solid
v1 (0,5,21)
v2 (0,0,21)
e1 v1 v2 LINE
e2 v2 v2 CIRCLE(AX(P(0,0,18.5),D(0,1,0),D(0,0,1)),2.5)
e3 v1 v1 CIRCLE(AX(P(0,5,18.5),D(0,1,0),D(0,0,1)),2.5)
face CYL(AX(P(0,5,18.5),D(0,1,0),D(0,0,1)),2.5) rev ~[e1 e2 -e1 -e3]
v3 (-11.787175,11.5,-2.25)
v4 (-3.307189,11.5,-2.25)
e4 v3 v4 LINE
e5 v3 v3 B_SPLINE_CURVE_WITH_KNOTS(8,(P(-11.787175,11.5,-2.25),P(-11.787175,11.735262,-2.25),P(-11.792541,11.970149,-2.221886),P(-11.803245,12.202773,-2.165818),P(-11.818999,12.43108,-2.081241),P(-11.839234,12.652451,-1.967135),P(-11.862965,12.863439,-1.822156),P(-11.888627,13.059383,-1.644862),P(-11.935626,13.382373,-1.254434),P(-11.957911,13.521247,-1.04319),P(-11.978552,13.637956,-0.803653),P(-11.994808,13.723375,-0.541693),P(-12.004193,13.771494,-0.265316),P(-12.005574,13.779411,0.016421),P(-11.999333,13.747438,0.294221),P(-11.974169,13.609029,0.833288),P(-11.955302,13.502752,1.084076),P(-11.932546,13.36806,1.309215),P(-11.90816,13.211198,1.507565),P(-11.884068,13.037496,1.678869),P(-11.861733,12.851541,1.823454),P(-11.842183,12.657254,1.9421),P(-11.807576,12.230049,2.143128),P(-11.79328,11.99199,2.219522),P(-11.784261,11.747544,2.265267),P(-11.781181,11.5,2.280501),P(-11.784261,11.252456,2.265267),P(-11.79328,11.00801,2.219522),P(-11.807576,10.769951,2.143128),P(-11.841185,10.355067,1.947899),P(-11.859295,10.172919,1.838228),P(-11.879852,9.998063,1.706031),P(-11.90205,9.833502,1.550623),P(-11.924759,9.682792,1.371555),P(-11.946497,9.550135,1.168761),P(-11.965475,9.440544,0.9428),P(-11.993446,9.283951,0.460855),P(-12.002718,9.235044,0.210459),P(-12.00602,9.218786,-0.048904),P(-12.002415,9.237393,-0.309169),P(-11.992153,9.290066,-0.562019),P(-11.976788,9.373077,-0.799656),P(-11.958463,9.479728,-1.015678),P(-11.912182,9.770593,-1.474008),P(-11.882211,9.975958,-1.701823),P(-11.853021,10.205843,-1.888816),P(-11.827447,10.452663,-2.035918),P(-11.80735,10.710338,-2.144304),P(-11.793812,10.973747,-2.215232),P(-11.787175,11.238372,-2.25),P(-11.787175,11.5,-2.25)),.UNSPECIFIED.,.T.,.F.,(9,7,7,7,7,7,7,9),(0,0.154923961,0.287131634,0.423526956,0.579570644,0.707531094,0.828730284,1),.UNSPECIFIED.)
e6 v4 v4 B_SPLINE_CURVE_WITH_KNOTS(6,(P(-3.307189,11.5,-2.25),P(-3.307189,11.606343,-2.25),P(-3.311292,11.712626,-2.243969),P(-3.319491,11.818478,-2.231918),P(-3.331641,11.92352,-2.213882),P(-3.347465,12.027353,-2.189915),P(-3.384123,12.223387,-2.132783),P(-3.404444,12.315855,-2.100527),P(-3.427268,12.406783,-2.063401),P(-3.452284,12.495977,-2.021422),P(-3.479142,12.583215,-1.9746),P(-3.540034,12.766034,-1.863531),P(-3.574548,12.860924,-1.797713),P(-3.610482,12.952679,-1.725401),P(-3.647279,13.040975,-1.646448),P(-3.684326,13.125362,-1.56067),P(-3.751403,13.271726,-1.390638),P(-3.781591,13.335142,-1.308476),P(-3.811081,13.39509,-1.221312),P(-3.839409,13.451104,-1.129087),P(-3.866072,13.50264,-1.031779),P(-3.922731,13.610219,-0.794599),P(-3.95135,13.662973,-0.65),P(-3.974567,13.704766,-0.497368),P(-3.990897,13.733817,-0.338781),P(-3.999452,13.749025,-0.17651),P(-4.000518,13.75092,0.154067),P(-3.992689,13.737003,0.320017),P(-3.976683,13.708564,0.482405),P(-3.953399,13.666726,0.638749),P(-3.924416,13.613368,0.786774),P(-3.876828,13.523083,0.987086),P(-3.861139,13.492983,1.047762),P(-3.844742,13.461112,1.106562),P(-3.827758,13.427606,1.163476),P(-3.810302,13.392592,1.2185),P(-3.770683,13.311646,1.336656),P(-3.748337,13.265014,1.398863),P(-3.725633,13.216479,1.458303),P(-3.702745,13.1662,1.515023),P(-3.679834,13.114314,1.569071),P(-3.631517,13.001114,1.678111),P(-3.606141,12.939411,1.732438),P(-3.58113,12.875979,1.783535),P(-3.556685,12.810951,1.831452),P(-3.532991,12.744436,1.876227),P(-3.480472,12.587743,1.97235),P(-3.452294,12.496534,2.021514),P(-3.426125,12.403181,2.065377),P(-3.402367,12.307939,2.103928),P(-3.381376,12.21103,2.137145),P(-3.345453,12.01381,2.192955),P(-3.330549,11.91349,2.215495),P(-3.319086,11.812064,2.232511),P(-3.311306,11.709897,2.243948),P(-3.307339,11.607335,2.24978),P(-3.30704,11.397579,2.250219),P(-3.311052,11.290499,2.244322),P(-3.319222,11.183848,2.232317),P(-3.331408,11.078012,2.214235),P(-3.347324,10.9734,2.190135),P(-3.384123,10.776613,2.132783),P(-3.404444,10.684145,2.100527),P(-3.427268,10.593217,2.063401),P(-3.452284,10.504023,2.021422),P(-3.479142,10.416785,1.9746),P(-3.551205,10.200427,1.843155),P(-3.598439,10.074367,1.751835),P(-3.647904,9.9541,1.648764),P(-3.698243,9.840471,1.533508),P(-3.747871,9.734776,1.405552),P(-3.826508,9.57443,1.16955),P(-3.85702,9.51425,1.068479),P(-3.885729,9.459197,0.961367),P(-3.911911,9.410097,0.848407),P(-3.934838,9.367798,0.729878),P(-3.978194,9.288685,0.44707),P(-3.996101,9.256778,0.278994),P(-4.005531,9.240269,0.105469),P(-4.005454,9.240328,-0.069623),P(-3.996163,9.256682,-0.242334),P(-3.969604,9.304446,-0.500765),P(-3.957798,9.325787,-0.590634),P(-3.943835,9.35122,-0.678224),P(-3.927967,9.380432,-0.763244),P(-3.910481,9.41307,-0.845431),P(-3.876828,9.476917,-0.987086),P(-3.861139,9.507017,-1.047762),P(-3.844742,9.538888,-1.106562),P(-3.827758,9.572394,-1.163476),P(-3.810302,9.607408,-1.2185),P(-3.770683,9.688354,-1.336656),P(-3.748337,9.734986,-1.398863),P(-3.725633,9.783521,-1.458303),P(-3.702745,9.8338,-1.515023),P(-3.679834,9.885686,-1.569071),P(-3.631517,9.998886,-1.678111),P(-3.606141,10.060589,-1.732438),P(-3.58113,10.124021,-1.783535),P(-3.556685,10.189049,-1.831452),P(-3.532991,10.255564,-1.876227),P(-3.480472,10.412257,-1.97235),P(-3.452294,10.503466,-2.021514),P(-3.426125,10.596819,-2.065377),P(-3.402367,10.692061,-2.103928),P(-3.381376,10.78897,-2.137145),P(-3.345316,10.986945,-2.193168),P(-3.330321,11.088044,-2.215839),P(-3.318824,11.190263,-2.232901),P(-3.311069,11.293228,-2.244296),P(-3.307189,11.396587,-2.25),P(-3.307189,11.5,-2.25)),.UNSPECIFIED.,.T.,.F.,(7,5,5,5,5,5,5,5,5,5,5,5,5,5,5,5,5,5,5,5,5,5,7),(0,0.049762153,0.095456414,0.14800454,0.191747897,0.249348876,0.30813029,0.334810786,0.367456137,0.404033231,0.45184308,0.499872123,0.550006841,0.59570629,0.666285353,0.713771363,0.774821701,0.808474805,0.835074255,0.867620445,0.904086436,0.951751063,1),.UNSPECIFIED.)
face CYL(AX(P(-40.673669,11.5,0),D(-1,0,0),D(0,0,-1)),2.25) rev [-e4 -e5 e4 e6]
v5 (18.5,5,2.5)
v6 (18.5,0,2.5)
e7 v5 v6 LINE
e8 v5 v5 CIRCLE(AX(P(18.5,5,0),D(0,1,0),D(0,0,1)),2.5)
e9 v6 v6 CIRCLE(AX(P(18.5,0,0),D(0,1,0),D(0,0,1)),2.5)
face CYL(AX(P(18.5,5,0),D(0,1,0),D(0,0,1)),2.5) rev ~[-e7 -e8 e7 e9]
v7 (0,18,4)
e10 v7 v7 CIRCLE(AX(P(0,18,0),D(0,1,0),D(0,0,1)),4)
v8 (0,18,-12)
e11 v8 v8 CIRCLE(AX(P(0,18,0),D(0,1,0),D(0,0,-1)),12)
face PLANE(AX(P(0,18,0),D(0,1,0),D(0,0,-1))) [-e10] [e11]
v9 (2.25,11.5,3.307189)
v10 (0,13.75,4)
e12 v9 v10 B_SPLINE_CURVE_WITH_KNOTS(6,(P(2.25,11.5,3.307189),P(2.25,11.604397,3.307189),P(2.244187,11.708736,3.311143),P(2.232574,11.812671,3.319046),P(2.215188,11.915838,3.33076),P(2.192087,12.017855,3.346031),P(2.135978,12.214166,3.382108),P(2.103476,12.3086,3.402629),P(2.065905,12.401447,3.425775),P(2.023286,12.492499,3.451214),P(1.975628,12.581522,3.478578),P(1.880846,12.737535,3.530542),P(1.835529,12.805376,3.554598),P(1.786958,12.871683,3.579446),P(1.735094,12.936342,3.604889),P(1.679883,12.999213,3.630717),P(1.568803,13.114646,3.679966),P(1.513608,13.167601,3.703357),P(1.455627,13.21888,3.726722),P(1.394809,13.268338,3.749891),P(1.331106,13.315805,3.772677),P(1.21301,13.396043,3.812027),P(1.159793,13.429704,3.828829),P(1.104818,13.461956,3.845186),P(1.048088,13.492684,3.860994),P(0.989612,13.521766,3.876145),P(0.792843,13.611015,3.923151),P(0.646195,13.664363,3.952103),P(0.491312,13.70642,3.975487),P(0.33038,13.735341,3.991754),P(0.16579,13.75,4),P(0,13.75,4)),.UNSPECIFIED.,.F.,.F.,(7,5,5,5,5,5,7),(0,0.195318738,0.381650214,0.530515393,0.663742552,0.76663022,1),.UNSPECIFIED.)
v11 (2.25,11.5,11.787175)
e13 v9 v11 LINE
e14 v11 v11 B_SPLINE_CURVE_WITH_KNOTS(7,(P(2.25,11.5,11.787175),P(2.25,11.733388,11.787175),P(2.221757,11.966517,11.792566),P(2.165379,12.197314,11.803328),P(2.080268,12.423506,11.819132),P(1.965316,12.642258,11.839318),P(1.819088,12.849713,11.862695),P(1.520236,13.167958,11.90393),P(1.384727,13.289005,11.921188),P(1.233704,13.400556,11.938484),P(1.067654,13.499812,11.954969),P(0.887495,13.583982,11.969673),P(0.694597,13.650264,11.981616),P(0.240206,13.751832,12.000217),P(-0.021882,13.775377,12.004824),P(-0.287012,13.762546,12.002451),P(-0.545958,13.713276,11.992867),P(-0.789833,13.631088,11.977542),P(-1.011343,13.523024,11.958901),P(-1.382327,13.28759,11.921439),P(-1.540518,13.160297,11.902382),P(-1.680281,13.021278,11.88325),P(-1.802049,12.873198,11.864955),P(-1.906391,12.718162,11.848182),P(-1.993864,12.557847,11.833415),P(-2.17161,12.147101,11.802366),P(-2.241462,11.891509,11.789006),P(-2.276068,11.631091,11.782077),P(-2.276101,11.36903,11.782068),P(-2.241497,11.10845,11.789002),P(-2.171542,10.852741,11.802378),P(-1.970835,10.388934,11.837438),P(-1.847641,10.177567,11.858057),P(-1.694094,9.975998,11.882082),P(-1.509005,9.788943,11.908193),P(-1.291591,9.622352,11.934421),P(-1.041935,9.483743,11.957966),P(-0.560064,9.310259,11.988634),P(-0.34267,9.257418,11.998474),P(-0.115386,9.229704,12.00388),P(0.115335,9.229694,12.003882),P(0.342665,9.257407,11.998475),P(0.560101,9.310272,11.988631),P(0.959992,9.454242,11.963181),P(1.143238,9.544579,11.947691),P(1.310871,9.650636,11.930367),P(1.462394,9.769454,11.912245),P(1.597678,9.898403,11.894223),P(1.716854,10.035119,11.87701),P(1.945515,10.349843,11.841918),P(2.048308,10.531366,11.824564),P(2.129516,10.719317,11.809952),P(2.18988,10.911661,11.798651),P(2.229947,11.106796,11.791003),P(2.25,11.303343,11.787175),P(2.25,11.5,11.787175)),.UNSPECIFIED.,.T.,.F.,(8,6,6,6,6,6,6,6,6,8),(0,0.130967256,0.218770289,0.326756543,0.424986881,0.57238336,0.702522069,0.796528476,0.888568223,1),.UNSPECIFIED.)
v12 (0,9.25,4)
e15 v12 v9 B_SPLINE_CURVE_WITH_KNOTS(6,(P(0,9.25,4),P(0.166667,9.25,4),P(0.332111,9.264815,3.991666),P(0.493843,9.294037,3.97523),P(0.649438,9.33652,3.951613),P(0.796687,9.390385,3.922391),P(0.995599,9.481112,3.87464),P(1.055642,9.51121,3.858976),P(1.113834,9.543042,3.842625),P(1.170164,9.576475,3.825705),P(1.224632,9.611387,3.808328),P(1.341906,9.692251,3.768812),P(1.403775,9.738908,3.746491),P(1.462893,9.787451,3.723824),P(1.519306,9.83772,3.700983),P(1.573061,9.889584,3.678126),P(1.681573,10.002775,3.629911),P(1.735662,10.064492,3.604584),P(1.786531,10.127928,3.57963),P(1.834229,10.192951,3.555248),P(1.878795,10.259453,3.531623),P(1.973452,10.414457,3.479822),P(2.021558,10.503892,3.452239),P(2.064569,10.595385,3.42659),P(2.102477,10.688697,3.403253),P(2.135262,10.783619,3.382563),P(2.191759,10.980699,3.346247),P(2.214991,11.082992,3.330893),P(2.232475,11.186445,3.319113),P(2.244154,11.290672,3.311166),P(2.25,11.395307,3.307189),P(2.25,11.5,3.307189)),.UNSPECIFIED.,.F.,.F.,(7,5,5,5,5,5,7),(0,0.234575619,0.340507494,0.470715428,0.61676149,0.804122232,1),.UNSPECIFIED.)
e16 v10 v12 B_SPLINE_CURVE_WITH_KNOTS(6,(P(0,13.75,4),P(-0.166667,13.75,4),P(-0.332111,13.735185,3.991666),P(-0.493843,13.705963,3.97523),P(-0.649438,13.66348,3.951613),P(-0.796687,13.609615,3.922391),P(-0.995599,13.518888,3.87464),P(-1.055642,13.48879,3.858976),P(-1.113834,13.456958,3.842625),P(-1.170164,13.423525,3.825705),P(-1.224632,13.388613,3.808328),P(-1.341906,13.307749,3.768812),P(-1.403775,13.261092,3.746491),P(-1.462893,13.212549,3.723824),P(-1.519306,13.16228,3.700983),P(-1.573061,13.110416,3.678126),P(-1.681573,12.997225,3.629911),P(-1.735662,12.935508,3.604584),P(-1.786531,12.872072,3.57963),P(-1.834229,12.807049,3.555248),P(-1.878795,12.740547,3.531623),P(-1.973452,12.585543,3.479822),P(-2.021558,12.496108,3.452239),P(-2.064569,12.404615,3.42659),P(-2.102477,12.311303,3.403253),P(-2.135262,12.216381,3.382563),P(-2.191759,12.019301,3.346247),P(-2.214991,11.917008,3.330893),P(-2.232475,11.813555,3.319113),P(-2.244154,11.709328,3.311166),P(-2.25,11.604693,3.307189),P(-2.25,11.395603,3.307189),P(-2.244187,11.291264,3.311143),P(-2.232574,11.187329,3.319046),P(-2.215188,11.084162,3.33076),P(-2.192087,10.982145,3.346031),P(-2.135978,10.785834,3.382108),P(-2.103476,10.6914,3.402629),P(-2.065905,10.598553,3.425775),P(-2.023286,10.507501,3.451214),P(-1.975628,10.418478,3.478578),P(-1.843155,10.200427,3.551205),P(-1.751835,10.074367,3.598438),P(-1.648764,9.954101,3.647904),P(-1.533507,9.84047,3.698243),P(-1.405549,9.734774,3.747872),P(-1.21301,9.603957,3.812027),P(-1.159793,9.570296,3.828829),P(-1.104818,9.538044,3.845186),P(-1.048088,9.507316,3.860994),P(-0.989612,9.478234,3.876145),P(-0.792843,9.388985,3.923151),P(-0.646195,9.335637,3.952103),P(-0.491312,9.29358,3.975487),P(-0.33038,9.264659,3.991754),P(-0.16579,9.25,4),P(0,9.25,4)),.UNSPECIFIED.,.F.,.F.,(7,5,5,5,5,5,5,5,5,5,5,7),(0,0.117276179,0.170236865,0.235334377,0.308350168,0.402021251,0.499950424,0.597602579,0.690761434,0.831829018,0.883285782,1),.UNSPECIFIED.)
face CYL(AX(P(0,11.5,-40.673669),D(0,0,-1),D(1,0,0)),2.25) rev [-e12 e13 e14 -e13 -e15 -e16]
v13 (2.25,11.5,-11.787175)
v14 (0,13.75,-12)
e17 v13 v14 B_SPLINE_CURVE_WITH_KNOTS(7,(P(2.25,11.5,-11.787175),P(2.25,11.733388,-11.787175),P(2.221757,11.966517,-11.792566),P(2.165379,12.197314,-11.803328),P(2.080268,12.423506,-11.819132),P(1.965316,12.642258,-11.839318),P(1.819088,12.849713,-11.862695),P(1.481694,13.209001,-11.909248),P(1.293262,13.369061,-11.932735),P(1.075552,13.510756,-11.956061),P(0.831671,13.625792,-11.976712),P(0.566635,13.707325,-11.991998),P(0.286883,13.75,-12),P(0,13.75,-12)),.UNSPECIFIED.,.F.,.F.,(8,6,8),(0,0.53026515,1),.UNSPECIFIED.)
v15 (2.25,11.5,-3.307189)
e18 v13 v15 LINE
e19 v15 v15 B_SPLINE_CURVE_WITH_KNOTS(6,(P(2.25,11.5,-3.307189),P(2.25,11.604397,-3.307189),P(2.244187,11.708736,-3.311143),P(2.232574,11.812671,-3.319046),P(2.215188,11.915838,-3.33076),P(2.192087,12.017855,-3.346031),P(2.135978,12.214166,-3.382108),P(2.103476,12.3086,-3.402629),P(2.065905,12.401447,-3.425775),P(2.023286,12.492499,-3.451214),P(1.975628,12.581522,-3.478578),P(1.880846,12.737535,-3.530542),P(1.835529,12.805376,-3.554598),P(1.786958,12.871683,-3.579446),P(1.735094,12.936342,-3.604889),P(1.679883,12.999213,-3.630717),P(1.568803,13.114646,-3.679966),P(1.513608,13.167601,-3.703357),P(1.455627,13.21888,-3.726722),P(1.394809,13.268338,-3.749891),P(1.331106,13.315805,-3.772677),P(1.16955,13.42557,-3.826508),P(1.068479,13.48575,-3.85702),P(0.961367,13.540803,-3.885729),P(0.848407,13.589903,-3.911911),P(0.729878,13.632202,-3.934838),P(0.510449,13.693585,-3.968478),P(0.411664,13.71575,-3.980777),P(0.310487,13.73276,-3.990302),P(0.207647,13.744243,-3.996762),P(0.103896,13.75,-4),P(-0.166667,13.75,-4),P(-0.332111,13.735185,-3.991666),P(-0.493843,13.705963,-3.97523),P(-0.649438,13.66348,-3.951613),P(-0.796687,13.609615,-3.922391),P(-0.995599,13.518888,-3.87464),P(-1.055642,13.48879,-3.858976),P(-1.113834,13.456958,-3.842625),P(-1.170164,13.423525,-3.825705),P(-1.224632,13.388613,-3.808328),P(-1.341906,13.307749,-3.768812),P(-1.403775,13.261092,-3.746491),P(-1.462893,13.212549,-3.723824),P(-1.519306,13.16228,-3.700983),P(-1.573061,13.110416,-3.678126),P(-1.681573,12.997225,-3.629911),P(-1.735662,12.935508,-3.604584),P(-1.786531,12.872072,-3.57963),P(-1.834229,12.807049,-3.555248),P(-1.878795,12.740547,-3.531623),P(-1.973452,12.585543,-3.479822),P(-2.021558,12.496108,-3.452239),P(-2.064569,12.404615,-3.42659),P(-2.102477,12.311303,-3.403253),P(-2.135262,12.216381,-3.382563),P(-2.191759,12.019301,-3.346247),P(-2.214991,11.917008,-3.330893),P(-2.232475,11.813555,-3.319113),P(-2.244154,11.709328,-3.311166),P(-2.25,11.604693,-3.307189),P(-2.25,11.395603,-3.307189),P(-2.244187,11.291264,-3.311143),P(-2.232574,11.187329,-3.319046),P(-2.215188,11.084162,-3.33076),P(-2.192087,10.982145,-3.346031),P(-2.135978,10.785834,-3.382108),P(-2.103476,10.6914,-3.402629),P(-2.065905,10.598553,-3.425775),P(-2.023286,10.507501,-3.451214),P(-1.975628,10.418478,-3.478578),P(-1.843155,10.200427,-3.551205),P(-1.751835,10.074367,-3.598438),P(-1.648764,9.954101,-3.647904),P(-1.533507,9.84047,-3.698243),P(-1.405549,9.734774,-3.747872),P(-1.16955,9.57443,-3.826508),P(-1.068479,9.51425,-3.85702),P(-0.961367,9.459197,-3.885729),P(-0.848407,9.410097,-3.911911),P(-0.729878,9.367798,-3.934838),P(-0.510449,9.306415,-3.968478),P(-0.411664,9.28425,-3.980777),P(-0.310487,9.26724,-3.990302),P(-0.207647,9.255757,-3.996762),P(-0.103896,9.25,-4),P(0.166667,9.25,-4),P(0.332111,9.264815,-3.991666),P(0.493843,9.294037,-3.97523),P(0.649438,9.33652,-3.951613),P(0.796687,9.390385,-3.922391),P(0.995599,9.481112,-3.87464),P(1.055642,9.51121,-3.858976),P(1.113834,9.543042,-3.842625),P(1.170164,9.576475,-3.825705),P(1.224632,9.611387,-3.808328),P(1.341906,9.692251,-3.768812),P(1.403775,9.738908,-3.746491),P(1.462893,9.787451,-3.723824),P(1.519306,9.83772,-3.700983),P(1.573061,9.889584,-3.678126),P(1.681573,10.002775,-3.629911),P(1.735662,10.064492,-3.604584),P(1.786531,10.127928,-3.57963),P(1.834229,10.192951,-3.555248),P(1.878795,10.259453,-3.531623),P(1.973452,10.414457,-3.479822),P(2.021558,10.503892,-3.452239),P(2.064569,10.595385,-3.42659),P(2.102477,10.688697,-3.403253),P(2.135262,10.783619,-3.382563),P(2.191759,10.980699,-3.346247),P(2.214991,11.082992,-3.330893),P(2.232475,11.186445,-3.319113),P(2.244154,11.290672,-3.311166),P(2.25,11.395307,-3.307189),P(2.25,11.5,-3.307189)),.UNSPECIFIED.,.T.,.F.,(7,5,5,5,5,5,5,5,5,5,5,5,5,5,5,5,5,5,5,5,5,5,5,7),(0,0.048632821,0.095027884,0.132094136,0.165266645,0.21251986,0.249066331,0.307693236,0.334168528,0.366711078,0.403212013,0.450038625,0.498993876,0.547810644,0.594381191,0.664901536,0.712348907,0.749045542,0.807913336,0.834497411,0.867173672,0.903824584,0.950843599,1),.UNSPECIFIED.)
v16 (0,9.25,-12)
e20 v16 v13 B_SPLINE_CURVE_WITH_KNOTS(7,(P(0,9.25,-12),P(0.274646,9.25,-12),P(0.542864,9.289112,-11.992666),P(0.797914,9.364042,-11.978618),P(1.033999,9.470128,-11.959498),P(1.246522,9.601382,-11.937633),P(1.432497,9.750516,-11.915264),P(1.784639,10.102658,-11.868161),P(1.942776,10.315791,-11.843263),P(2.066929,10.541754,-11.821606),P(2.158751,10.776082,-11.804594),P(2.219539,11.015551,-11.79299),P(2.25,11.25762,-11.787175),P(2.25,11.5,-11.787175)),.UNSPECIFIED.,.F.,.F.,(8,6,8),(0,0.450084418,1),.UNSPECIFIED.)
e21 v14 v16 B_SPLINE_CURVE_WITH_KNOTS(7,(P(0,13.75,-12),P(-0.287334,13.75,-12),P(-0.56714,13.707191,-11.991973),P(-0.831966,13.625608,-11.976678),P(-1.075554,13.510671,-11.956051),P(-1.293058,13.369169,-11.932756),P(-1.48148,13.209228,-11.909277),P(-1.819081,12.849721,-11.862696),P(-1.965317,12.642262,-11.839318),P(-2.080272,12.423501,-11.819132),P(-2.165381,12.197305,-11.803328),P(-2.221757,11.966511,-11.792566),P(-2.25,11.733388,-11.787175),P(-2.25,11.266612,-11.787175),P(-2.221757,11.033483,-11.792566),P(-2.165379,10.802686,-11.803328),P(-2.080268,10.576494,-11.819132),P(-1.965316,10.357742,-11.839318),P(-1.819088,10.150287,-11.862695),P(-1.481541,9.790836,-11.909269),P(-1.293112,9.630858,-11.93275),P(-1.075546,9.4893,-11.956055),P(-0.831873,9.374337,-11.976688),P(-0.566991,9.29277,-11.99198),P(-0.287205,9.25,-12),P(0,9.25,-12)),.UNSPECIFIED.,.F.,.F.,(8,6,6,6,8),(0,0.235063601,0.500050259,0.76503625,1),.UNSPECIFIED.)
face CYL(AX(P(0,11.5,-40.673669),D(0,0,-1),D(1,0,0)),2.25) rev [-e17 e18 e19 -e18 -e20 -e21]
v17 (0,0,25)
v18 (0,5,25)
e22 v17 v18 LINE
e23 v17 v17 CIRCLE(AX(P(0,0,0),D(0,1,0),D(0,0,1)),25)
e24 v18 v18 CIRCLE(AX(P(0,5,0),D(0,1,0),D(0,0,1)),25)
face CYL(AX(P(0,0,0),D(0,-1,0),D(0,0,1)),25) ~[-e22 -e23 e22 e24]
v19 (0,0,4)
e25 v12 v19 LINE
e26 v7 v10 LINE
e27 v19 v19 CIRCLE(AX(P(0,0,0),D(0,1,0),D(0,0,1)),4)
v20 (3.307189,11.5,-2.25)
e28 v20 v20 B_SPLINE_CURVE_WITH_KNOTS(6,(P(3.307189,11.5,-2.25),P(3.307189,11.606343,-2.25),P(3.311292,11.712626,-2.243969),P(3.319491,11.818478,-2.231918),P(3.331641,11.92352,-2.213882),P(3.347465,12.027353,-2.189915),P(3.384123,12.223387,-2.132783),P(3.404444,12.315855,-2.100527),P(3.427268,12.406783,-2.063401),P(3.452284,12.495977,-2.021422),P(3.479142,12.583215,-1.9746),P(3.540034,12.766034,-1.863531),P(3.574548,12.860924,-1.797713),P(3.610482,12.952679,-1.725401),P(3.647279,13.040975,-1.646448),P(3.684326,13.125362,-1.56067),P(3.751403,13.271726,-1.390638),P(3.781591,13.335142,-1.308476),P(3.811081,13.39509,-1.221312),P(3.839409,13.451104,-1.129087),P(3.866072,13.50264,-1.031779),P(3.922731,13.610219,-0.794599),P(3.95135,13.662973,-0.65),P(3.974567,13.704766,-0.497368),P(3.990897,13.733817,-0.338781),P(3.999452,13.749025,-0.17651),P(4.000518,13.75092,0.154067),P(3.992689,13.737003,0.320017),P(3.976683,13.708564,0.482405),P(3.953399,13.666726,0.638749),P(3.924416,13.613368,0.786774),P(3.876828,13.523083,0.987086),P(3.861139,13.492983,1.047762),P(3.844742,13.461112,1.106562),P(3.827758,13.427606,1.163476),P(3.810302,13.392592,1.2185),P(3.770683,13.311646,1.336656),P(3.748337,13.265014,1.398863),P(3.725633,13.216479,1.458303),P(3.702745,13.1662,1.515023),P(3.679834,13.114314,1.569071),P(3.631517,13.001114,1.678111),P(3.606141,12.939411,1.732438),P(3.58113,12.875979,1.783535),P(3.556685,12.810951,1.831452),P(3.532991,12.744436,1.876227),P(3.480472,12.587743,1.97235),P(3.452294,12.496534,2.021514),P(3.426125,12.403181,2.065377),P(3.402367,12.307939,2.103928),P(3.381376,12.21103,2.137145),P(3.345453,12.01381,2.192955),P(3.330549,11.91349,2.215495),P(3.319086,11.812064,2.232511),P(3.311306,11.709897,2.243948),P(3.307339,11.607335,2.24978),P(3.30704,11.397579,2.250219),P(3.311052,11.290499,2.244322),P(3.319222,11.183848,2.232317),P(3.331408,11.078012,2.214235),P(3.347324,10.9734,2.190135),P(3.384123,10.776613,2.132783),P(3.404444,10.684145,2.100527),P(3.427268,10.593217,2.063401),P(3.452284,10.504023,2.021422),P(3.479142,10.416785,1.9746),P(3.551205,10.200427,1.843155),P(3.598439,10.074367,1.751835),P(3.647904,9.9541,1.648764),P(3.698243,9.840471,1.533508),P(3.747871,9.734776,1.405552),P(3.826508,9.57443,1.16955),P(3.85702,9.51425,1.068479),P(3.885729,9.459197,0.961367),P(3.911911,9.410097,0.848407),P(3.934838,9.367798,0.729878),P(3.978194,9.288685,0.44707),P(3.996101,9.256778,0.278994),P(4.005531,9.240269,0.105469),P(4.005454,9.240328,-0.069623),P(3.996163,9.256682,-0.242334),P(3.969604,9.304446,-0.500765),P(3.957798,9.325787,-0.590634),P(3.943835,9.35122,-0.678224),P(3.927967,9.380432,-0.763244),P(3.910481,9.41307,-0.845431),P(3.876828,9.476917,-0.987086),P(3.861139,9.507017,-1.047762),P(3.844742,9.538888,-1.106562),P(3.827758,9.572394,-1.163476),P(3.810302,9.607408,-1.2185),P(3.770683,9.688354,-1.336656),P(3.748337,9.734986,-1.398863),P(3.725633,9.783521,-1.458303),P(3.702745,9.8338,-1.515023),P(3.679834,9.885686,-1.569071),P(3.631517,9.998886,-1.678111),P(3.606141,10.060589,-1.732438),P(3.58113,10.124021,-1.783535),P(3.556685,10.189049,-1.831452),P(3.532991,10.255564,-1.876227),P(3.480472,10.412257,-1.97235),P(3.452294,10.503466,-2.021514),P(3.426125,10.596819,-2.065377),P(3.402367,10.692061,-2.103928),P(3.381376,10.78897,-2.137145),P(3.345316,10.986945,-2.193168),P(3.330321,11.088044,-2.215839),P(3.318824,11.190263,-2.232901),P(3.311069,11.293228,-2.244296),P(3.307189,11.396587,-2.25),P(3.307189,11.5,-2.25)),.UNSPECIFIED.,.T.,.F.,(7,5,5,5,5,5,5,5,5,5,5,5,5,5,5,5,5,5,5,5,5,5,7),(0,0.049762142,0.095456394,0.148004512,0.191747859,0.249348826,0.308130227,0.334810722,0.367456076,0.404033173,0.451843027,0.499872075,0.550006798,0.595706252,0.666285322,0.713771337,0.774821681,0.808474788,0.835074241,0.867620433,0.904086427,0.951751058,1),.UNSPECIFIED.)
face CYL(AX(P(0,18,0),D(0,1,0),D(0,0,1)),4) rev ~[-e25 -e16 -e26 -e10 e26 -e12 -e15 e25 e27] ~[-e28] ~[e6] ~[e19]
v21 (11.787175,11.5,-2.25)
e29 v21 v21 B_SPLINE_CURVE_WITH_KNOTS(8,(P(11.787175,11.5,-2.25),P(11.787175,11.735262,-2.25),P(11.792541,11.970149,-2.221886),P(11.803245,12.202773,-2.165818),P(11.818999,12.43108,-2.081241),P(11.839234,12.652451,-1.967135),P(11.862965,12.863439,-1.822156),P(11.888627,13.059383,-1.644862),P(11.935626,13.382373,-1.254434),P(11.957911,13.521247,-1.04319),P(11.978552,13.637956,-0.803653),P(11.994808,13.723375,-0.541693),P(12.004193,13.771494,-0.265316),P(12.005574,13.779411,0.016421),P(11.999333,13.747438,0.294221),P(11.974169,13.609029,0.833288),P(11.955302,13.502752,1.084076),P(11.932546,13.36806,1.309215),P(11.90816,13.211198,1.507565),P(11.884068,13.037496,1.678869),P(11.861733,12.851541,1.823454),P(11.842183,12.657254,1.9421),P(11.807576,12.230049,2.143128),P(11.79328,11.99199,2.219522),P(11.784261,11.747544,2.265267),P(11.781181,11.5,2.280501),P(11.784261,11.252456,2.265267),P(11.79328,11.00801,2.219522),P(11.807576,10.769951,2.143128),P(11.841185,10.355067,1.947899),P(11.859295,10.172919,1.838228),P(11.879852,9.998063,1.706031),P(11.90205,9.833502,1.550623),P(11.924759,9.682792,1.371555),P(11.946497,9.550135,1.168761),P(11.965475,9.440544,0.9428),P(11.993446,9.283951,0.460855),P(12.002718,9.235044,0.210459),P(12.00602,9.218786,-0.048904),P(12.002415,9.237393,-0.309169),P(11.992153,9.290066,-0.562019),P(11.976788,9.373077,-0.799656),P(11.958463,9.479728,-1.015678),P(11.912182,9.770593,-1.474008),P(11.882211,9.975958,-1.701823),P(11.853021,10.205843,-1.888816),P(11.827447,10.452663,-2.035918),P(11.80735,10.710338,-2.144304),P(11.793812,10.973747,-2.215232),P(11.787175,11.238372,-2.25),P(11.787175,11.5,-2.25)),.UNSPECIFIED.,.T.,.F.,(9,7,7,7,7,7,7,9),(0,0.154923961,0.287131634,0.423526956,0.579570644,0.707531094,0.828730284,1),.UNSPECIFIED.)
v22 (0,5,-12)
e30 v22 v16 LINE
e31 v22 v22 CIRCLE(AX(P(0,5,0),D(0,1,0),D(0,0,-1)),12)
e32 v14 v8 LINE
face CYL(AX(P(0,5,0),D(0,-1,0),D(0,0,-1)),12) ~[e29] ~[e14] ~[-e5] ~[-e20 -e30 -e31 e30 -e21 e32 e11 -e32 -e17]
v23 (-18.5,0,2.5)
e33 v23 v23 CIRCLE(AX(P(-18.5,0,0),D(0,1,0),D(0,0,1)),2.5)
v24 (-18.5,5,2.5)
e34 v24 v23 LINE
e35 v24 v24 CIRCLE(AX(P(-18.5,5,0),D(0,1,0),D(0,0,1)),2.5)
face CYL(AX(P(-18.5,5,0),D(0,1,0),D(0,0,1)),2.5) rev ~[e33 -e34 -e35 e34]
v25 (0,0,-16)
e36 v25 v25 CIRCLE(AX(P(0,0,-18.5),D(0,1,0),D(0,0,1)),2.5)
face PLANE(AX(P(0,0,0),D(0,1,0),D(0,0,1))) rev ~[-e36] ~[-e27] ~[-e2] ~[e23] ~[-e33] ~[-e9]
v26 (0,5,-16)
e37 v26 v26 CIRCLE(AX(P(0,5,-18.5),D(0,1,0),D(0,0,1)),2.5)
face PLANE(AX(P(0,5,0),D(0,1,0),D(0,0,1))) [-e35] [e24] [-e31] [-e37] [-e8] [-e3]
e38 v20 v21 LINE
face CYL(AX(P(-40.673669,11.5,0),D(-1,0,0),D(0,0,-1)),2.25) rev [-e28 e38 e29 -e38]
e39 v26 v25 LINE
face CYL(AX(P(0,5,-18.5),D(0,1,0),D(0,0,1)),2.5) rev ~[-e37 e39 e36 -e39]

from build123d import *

# Parameters (mm, degrees)
SKETCH_1_R               = 25
EXTRUDE_1_DEPTH          = 5
SKETCH_2_R               = 12
EXTRUDE_2_DEPTH          = 13
SKETCH_3_R               = 4
CUT_EXTRUDE_1_DEPTH      = 40.67366885
SKETCH_4_R               = 2.5
CUT_EXTRUDE_2_DEPTH      = 38.669616404
CUT_EXTRUDE_3_DEPTH      = 40.67366885
CUT_EXTRUDE_3_DEPTH_BACK = 40.67366885
SKETCH_5_R               = 2.25
CUT_EXTRUDE_4_DEPTH      = 40.673668895
CUT_EXTRUDE_4_DEPTH_BACK = 40.673668895
SKETCH_6_R               = 2.25


with BuildPart() as part:
    # 草图1 → 凸台-拉伸1 (new body)
    with BuildSketch(Plane(origin=(0, 0, 0), x_dir=(1, 0, 0), z_dir=(0, 1, 0))):
        with Locations(Location((0, 0, 0), (0, 0, 270))):
            Circle(SKETCH_1_R)
    extrude(amount=EXTRUDE_1_DEPTH)

    # 草图2 → 凸台-拉伸2 (add)
    with BuildSketch(Plane(origin=(0, 5, 0), x_dir=(1, 0, 0), z_dir=(0, 1, 0))):
        with Locations(Location((0, 0, 0), (0, 0, 90))):
            Circle(SKETCH_2_R)
    extrude(amount=EXTRUDE_2_DEPTH)

    # 草图3 → 切除-拉伸1 (cut, through all)
    with BuildSketch(Plane(origin=(0, 18, 0), x_dir=(1, 0, 0), z_dir=(0, 1, 0))):
        with Locations(Location((0, 0, 0), (0, 0, 270))):
            Circle(SKETCH_3_R)
    extrude(amount=-CUT_EXTRUDE_1_DEPTH, mode=Mode.SUBTRACT)

    # 草图4 → 切除-拉伸2 (cut, through all)
    with BuildSketch(Plane(origin=(0, 5, 0), x_dir=(1, 0, 0), z_dir=(0, 1, 0))):
        with Locations(Location((0, 18.5, 0), (0, 0, 270))):
            Circle(SKETCH_4_R)
        with Locations(Location((18.5, 0, 0), (0, 0, 270))):
            Circle(SKETCH_4_R)
        with Locations(Location((0, -18.5, 0), (0, 0, 270))):
            Circle(SKETCH_4_R)
        with Locations(Location((-18.5, 0, 0), (0, 0, 270))):
            Circle(SKETCH_4_R)
    extrude(amount=-CUT_EXTRUDE_2_DEPTH, mode=Mode.SUBTRACT)

    # 草图5 → 切除-拉伸3 (cut, two sides: drawn at the far end of the back side and taken through both)
    with BuildSketch(Plane(origin=(0, 0, 0), x_dir=(0, 0, -1), z_dir=(1, 0, 0)).offset(-CUT_EXTRUDE_3_DEPTH_BACK)):
        with Locations((0, 11.5)):
            Circle(SKETCH_5_R)
    extrude(amount=CUT_EXTRUDE_3_DEPTH + CUT_EXTRUDE_3_DEPTH_BACK, mode=Mode.SUBTRACT)

    # 草图6 → 切除-拉伸4 (cut, two sides: drawn at the far end of the back side and taken through both)
    with BuildSketch(Plane.XY.offset(-CUT_EXTRUDE_4_DEPTH_BACK)):
        with Locations((0, 11.5)):
            Circle(SKETCH_6_R)
    extrude(amount=CUT_EXTRUDE_4_DEPTH + CUT_EXTRUDE_4_DEPTH_BACK, mode=Mode.SUBTRACT)


solid = part.part
